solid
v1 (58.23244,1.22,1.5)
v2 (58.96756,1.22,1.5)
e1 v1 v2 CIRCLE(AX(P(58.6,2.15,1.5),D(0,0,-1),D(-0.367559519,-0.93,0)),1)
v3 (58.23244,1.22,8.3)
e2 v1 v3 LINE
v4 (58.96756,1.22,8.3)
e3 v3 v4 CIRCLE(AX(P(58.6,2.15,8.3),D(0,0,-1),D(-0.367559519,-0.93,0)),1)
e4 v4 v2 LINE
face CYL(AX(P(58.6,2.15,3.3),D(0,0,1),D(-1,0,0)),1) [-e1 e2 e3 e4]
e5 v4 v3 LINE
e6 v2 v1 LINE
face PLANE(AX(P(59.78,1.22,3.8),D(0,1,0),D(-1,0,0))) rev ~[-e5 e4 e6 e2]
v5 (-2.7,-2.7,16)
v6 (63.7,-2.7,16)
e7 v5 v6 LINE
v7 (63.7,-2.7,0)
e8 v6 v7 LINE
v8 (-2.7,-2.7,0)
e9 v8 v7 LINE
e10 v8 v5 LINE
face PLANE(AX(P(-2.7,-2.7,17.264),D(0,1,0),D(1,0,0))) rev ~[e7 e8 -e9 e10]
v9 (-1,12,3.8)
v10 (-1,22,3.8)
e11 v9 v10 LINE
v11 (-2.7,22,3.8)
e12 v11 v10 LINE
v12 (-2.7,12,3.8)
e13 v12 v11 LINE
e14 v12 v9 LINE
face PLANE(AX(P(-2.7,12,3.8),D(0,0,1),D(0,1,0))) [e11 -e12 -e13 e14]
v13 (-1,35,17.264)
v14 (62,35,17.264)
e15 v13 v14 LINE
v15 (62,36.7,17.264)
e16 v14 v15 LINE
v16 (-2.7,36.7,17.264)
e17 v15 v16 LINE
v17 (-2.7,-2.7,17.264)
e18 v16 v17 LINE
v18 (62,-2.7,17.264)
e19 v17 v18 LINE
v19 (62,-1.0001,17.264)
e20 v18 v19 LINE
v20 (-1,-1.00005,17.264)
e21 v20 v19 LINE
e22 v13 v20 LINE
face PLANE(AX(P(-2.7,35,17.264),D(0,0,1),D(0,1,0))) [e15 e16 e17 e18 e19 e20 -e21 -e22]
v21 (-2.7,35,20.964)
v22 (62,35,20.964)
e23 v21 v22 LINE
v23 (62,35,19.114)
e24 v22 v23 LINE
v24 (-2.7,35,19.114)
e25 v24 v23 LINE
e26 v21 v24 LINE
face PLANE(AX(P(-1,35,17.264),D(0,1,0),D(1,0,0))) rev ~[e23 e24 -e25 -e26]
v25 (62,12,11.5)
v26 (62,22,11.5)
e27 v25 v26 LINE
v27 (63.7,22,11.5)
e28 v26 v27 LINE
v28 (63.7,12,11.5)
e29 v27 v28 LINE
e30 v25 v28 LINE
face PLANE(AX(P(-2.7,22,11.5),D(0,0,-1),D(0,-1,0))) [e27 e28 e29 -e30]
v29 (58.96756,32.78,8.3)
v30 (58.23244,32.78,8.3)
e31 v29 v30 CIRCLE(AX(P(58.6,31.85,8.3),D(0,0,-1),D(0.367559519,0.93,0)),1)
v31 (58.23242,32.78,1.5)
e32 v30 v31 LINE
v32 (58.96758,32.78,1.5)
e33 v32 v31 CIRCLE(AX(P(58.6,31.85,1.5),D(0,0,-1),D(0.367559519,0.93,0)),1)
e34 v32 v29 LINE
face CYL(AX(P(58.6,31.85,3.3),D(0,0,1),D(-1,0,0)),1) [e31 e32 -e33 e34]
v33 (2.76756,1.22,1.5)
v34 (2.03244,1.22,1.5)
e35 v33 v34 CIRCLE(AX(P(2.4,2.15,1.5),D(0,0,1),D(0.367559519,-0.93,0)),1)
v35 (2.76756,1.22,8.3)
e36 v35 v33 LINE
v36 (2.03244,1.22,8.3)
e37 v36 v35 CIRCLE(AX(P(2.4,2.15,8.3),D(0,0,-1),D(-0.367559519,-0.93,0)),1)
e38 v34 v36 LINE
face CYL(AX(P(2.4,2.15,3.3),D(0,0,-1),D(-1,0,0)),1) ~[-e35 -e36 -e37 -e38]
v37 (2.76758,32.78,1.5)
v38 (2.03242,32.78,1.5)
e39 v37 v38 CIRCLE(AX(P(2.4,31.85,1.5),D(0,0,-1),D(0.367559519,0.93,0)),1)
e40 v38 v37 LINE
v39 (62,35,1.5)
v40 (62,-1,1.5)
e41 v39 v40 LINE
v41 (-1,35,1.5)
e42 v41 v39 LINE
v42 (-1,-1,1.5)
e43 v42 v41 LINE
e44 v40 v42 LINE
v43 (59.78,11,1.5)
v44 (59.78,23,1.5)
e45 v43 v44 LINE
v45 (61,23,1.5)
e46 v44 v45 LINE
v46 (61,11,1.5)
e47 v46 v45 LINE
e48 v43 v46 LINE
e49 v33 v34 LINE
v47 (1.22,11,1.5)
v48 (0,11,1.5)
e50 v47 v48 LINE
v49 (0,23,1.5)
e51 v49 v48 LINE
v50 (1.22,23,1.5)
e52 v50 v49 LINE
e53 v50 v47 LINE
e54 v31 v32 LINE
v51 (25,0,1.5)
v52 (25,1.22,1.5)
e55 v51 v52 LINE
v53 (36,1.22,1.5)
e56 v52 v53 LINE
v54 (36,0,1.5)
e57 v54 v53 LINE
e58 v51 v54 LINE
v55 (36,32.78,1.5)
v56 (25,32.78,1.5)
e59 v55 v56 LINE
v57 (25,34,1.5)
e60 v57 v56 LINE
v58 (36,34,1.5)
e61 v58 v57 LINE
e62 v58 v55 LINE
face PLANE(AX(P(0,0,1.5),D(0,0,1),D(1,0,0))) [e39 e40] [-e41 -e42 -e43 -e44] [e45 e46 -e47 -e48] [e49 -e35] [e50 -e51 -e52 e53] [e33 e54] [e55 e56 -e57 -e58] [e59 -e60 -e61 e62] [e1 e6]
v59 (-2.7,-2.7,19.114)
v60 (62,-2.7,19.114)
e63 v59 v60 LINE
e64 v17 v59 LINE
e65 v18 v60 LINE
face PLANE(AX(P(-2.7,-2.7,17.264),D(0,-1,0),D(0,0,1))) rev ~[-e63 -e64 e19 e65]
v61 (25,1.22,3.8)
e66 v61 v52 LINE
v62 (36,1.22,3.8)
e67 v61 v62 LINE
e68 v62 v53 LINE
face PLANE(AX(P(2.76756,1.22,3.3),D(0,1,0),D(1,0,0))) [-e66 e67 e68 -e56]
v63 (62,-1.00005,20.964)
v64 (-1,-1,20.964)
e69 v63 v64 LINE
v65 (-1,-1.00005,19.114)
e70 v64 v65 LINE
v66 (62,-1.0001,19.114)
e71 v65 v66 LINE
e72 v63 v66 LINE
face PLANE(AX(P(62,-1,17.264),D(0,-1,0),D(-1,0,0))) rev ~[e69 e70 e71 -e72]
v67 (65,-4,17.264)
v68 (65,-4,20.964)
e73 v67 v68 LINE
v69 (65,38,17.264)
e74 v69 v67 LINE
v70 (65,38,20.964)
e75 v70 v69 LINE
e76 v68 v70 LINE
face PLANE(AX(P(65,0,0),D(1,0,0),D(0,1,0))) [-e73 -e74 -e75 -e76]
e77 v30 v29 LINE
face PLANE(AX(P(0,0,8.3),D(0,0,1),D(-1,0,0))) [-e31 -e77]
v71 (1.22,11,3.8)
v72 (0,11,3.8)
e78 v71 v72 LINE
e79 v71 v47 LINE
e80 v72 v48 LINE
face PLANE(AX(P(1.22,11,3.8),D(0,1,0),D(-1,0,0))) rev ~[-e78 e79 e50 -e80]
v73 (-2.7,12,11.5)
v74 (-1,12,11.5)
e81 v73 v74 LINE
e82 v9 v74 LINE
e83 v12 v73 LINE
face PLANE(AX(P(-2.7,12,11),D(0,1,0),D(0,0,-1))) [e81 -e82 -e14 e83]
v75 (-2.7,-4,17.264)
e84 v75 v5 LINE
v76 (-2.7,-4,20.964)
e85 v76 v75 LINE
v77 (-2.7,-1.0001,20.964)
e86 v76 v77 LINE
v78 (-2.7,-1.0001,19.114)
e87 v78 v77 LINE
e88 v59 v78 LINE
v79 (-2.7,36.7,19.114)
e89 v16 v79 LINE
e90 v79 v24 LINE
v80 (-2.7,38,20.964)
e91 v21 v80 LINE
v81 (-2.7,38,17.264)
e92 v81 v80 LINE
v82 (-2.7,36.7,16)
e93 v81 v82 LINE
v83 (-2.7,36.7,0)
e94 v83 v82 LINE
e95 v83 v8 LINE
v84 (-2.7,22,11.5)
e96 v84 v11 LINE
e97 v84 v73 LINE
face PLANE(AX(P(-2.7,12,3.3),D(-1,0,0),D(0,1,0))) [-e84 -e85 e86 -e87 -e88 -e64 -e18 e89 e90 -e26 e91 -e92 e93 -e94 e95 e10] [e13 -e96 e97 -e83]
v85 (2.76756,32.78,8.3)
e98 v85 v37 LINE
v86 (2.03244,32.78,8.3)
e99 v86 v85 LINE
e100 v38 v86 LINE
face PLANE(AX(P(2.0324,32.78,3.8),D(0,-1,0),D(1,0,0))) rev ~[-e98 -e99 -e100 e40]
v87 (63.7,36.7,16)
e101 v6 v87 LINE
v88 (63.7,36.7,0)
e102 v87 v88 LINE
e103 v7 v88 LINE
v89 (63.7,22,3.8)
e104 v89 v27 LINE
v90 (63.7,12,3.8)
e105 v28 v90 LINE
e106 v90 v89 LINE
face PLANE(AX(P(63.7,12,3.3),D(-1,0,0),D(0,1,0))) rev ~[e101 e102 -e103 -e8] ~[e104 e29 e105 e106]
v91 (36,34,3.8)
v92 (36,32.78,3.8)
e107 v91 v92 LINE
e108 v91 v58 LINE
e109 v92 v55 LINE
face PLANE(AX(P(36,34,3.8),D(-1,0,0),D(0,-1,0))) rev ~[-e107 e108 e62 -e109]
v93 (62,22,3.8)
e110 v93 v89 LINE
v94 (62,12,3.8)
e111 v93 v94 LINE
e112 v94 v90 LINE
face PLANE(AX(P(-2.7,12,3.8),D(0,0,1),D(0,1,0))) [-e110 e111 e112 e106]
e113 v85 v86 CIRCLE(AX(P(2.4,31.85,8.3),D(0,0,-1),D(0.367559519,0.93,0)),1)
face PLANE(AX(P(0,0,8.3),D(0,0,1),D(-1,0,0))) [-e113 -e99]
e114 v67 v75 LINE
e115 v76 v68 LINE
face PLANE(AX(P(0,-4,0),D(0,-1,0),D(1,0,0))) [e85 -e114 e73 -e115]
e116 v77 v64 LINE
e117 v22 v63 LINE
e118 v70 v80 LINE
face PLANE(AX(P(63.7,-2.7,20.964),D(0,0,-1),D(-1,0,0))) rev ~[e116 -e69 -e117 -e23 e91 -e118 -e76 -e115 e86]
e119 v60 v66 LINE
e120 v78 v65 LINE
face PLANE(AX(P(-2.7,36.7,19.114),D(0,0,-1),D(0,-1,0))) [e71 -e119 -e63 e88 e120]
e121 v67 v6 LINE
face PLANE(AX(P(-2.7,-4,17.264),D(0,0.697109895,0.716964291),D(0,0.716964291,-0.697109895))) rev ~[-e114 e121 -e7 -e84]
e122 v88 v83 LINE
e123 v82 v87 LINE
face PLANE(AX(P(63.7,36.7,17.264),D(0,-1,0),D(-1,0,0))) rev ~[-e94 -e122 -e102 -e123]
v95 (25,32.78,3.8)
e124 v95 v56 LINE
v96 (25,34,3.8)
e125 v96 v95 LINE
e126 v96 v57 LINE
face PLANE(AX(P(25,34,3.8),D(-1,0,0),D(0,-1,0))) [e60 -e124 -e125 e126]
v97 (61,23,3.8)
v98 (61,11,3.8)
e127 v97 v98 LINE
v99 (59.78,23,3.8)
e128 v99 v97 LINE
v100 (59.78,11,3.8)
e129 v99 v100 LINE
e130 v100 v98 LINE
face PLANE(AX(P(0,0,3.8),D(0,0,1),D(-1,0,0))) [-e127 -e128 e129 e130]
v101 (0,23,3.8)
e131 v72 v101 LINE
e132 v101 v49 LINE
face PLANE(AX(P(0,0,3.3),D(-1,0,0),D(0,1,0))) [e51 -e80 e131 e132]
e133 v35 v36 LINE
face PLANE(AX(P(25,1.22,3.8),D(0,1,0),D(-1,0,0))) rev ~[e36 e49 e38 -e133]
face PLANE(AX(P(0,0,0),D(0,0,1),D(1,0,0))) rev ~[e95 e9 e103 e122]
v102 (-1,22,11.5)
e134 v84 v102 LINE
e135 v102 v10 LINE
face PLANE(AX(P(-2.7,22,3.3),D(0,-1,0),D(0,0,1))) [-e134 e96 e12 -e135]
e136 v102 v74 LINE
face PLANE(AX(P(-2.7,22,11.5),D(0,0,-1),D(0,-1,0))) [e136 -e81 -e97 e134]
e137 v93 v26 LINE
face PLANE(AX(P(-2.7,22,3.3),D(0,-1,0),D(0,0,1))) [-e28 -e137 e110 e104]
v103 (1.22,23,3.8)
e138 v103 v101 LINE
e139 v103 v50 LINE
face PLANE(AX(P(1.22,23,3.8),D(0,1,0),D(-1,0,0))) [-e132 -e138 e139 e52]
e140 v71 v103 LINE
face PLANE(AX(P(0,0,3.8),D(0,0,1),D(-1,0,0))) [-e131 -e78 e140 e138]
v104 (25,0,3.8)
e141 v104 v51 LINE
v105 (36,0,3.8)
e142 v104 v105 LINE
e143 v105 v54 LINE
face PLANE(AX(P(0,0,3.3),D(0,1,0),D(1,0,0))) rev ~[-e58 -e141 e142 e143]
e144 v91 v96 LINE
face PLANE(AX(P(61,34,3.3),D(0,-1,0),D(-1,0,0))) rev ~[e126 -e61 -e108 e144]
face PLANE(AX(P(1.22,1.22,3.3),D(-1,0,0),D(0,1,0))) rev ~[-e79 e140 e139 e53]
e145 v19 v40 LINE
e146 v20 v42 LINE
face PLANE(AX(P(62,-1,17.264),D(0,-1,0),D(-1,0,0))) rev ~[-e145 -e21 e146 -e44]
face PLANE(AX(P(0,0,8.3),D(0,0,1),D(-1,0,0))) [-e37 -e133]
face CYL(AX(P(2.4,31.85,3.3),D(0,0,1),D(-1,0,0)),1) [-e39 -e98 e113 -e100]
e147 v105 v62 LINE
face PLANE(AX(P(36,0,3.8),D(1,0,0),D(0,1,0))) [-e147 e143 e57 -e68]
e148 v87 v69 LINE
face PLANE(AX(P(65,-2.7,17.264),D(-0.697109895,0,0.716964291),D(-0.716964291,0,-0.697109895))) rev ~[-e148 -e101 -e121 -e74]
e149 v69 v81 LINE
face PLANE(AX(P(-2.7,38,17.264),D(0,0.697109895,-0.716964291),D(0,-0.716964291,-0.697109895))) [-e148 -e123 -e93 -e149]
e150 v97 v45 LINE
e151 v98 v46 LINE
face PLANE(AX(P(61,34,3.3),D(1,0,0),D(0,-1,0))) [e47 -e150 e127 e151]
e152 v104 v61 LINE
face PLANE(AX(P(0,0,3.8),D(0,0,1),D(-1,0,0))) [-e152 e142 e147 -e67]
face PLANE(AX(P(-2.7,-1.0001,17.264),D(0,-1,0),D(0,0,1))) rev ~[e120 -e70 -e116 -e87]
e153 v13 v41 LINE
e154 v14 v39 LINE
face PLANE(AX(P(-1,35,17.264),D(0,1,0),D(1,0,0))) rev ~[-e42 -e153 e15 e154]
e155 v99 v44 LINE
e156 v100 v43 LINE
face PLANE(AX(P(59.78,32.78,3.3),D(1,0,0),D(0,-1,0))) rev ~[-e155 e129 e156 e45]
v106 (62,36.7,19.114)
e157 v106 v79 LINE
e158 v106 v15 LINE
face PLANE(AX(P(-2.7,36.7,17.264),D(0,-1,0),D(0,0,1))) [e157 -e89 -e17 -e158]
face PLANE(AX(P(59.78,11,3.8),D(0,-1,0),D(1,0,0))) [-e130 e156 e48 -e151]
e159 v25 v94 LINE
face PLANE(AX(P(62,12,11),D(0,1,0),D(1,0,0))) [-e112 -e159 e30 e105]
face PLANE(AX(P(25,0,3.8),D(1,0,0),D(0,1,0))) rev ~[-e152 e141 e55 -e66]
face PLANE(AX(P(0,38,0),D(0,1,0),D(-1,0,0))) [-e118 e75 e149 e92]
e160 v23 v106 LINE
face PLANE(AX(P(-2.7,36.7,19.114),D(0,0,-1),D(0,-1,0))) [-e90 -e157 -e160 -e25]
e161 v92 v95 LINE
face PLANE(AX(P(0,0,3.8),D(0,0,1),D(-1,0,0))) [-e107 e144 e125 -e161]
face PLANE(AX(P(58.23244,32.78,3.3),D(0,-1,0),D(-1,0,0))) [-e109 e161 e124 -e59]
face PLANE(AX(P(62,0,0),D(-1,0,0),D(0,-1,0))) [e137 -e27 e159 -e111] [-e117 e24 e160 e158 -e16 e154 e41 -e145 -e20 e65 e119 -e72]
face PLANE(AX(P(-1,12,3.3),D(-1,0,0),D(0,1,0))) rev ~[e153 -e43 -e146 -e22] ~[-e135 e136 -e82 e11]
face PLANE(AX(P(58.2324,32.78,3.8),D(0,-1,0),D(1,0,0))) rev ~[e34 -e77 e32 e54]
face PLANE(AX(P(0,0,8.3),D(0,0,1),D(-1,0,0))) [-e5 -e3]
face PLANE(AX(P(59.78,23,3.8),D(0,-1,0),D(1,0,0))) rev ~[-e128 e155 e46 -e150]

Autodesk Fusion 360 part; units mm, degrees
sketch "Spodek" plane through (0, 0, 0) normal (0, 0, 1) x (1, 0, 0)
  line L0 (0, 0) -> (61, 0)
  line L1 (61, 0) -> (61, 34)
  line L2 (61, 34) -> (0, 34)
  line L3 (0, 34) -> (0, 0)
  line L4 (-1, 35) -> (62, 35)
  line L5 (62, 35) -> (62, -1)
  line L6 (62, -1) -> (-1, -1)
  line L7 (-1, -1) -> (-1, 35)
  line L8 (-2.7, -2.7) -> (-2.7, 36.7) construction
  line L9 (63.7, 36.7) -> (-2.7, 36.7) construction
  line L10 (63.7, -2.7) -> (63.7, 36.7) construction
  line L11 (63.7, -2.7) -> (-2.7, -2.7) construction
  line L12 (-2.7, -2.7) -> (63.7, -2.7)
  line L13 (63.7, -2.7) -> (63.7, 36.7)
  line L14 (63.7, 36.7) -> (-2.7, 36.7)
  line L15 (-2.7, 36.7) -> (-2.7, -2.7)
  dimension "d1" = 61
  dimension "d2" = 34
  dimension "d3" = 63
  dimension "d4" = 36
  dimension "d5" = 1.7
  dimension "d6" = 1.7
  dimension "d7" = 1.7
  dimension "d8" = 1.7
sketch "TotoNevim" plane through (0, 0, 0) normal (0, 0, 1) x (1, 0, 0)
extrude "Extrude1" add sketch "Spodek" along normal blind 12 contours L12 L13 L14 L15 makes body 1
extrude "Extrude2" add sketch "Spodek" along normal blind 1.5 contours L0 L1 L2 L3 | L4 L5 L6 L7 bodies 1
sketch "Sketch3" plane through (0, 0, 1.5) normal (0, 0, 1) x (-1, 0, 0)
  line L0 (1, 1) -> (-62, 1)
  line L1 (-62, 1) -> (-62, -35)
  line L2 (-62, -35) -> (1, -35)
  line L3 (1, -35) -> (1, 1)
  line L4 (-59.78, -32.78) -> (-1.22, -32.78)
  line L5 (-1.22, -32.78) -> (-1.22, -1.22)
  line L6 (-1.22, -1.22) -> (-59.78, -1.22)
  line L7 (-59.78, -1.22) -> (-59.78, -32.78)
  line L8 (-61, 0) -> (-61, -34)
  line L9 (0, 0) -> (-61, 0)
  line L10 (0, -34) -> (0, 0)
  line L11 (-61, -34) -> (0, -34)
  dimension "d13" = 1.22
  dimension "d14" = 1.22
  dimension "d15" = 1.22
  dimension "d16" = 1.22
extrude "Extrude3" add sketch "Sketch3" along normal blind 1.8 contours L8 L9 L10 L11 bodies 1
extrude "Extrude4" add 1 faces at (20, -2.1333, 12) along direction (0, 0, 1) blind 5.243 on bodies 1 bodies 1
extrude "Extrude5" add 1 faces at (20, -2.1333, 17.243) along direction (0, 0, 1) blind 0.021 on bodies 1 bodies 1
sketch "Prurez1" plane through (-2.7, 0, 0) normal (-1, 0, 0) x (0, -1, 0)
  line L0 (-36.7, 0) -> (2.7, 0)
  line L1 (2.7, 0) -> (2.7, 17.264)
  line L2 (2.7, 17.264) -> (-36.7, 17.264)
  line L3 (-36.7, 17.264) -> (-36.7, 0)
  line L4 (-12, 3.3) -> (-12, 11) construction
  line L5 (0, 1.5) -> (0, 3.3) construction
  line L6 (-22, 11) -> (-22, 3.3) construction
  line L7 (-34, 3.3) -> (-34, 11) construction
  line L8 (-35, 1.5) -> (-35, 17.264) construction
  line L9 (-22, 11) -> (-12, 11) construction
  line L10 (-12, 11) -> (-12, 3.3) construction
  line L11 (-12, 3.3) -> (-22, 3.3) construction
  line L12 (-22, 3.3) -> (-22, 11) construction
  line L13 (-22, 11) -> (-12, 11)
  line L14 (-12, 11) -> (-12, 3.3)
  line L15 (-12, 3.3) -> (-22, 3.3)
  line L16 (-22, 3.3) -> (-22, 11)
  dimension "d23" = 7.7
  dimension "d24" = 12
  dimension "d25" = 12
  dimension "d26" = 1
extrude "Extrude6" cut sketch "Prurez1" against normal up to surface (66.4 mm away) contours L13 L14 L15 L16 bodies 1
sketch "Sketch5" plane through (0, 0, 17.264) normal (0, 0, 1) x (-1, 0, 0)
  line L0 (-62, 1) -> (1, 1)
  line L1 (1, 1) -> (1, -35)
  line L2 (1, -35) -> (-62, -35)
  line L3 (-62, -35) -> (-62, 1)
  line L4 (2.7, -36.7) -> (2.7, 2.7)
  line L5 (2.7, 2.7) -> (-63.7, 2.7)
  line L6 (-63.7, 2.7) -> (-63.7, -36.7)
  line L7 (-63.7, -36.7) -> (2.7, -36.7)
  line L8 (2.7, -36.7) -> (-63.7, -36.7)
  line L9 (-63.7, -36.7) -> (-63.7, 2.7)
  line L10 (-63.7, 2.7) -> (2.7, 2.7)
  line L11 (2.7, 2.7) -> (2.7, -36.7)
  line L12 (1, -35) -> (-62, -35)
  line L13 (-62, -35) -> (-62, 1)
  line L14 (-62, 1) -> (1, 1)
  line L15 (1, 1) -> (1, -35)
extrude "Extrude7" add sketch "Sketch5" along normal blind 3.7 bodies 1
sketch "Sketch6" plane through (-2.7, 0, 0) normal (-1, 0, 0) x (0, -1, 0)
  line L0 (-22, 3.3) -> (-22, 11)
  line L1 (-22, 11) -> (-12, 11)
  line L2 (-12, 11) -> (-12, 3.3)
  line L3 (-12, 3.3) -> (-22, 3.3)
  line L4 (-36.7, 0) -> (2.7, 0)
  line L5 (2.7, 0) -> (2.7, 20.964)
  line L6 (2.7, 20.964) -> (-36.7, 20.964)
  line L7 (-36.7, 20.964) -> (-36.7, 0)
  line L8 (-35, 17.264) -> (1.0001, 17.264)
  line L9 (1.0001, 17.264) -> (1.0001, 20.964)
  line L10 (1.0001, 20.964) -> (-35, 20.964)
  line L11 (-35, 20.964) -> (-35, 17.264)
  line L12 (-36.7, 17.264) -> (2.7, 17.264)
extrude "Extrude8" cut sketch "Sketch6" against normal up to surface (64.7 mm away) contours L6 L8 L9 L10 L11 L12 bodies 1
sketch "BokFront" plane through (0, -2.7, 0) normal (0, -1, 0) x (1, 0, 0)
  line L0 (-2.7, 0) -> (63.7, 0)
  line L1 (63.7, 0) -> (63.7, 20.964)
  line L2 (63.7, 20.964) -> (-2.7, 20.964)
  line L3 (-2.7, 20.964) -> (-2.7, 0)
  line L4 (-2.7, 20.964) -> (63.7, 20.964)
  line L5 (63.7, 20.964) -> (63.7, 17.264)
  line L6 (63.7, 17.264) -> (-2.7, 17.264)
  line L7 (-2.7, 17.264) -> (-2.7, 20.964)
  point P0 (63.7, 17.264)
sketch "BokRight" plane through (63.7, 0, 0) normal (1, 0, 0) x (0, 1, 0)
  line L0 (22, 11) -> (22, 3.3)
  line L1 (22, 3.3) -> (12, 3.3)
  line L2 (12, 3.3) -> (12, 11)
  line L3 (12, 11) -> (22, 11)
  line L4 (-2.7, 0) -> (36.7, 0)
  line L5 (36.7, 0) -> (36.7, 20.964)
  line L6 (36.7, 20.964) -> (-2.7, 20.964)
  line L7 (-2.7, 20.964) -> (-2.7, 0)
  line L8 (-2.7, 20.964) -> (36.7, 20.964)
  line L9 (36.7, 20.964) -> (36.7, 17.264)
  line L10 (36.7, 17.264) -> (-2.7, 17.264)
  line L11 (-2.7, 17.264) -> (-2.7, 20.964)
  point P0 (36.7, 17.264)
sketch "BokBack" plane through (0, 36.7, 0) normal (0, 1, 0) x (-1, 0, 0)
  line L0 (-63.7, 0) -> (2.7, 0)
  line L1 (2.7, 0) -> (2.7, 20.964)
  line L2 (2.7, 20.964) -> (-63.7, 20.964)
  line L3 (-63.7, 20.964) -> (-63.7, 0)
  line L4 (-63.7, 20.964) -> (2.7, 20.964)
  line L5 (2.7, 20.964) -> (2.7, 17.264)
  line L6 (2.7, 17.264) -> (-63.7, 17.264)
  line L7 (-63.7, 17.264) -> (-63.7, 20.964)
  point P0 (2.7, 17.264)
extrude "Extrude9" add sketch "BokBack" along normal blind 1.3 contours L1 L2 L3 L4 L5 L6 L7 bodies 1
extrude "Extrude10" add sketch "BokFront" along normal blind 1.3 contours L1 L2 L3 L4 L5 L6 L7 bodies 1
extrude "Extrude11" add sketch "BokRight" along normal blind 1.3 contours L5 L6 L7 L8 L9 L10 L11 bodies 1
extrude "Extrude12" add 1 faces at (63.7, 37.5667, 19.7307) along direction (1, 0, 0) blind 1.3 on bodies 1 bodies 1
extrude "Extrude13" add 1 faces at (63.7, -3.1333, 19.7307) along direction (1, 0, 0) blind 1.3 on bodies 1 bodies 1
sketch "Sketch10" plane through (-2.7, 0, 0) normal (-1, 0, 0) x (0, -1, 0)
  line L0 (-35, 17.264) -> (-35, 20.964)
  line L1 (-35, 20.964) -> (-38, 20.964)
  line L2 (-38, 20.964) -> (-38, 17.264)
  line L3 (-38, 17.264) -> (-36.7, 17.264)
  line L4 (-36.7, 17.264) -> (-36.7, 0)
  line L5 (-36.7, 0) -> (2.7, 0)
  line L6 (2.7, 0) -> (2.7, 17.264)
  line L7 (2.7, 17.264) -> (4, 17.264)
  line L8 (4, 17.264) -> (4, 20.964)
  line L9 (4, 20.964) -> (1.0001, 20.964)
  line L10 (1.0001, 20.964) -> (1.0001, 17.264)
  line L11 (1.0001, 17.264) -> (-35, 17.264)
  line L12 (-22, 3.3) -> (-22, 11)
  line L13 (-22, 11) -> (-12, 11)
  line L14 (-12, 11) -> (-12, 3.3)
  line L15 (-12, 3.3) -> (-22, 3.3)
  line L16 (4, 17.264) -> (2.7, 16)
  line L17 (-38, 17.264) -> (-36.7, 16)
extrude "Extrude14" add sketch "Sketch10" against normal up to surface (67.7 mm away) contours L3 L4 L17 | L6 L7 L16 bodies 1
sketch "Sketch11" plane through (0, -2.7, 0) normal (0, 1, 0) x (-1, 0, 0)
  line L0 (-63.7, 16) -> (-63.7, 17.264)
  line L1 (-63.7, 17.264) -> (-65, 17.264)
  line L2 (-65, 17.264) -> (-65, 16)
  line L3 (-65, 16) -> (-63.7, 16)
  line L4 (-65, 17.264) -> (-63.7, 16)
extrude "Extrude15" add sketch "Sketch11" along normal blind 39.4 contours L0 L1 L4 bodies 1
extrude "Extrude16" cut 1 faces at (64.5667, -2.7, 16.4213) along direction (0, -1, 0) blind 5.3 on bodies 1 bodies 1
extrude "Extrude17" cut 1 faces at (64.5667, 36.7, 16.4213) along direction (0, 1, 0) blind 1.9 on bodies 1 bodies 1
sketch "Sketch12" plane through (-2.7, 35.85, 19.114) normal (-1, 0, 0) x (0, -1, 0)
  line L0 (-0.85, 0) -> (0.85, 0)
  line L1 (0.85, 0) -> (0.85, -1.85)
  line L2 (0.85, -1.85) -> (-0.85, -1.85)
  line L3 (-0.85, -1.85) -> (-0.85, 0)
  line L4 (-0.85, 1.85) -> (-0.85, -19.114)
  line L5 (36.8501, -1.85) -> (38.55, -1.85)
  line L6 (38.55, -1.85) -> (38.55, 0)
  line L7 (38.55, 0) -> (36.8501, 0)
  line L8 (36.8501, 0) -> (36.8501, -1.85)
  line L9 (38.55, -19.114) -> (38.55, 1.85)
  point P0 (0.85, -1.85)
  point P1 (36.8501, -1.85)
extrude "Extrude18" cut sketch "Sketch12" against normal blind 64.7 bodies 1
sketch "Sketch13" plane through (62, 0, 0) normal (-1, 0, 0) x (0, -1, 0)
  line L0 (-35, 17.264) -> (-35, 1.5)
  line L1 (-35, 1.5) -> (1, 1.5)
  line L2 (1, 1.5) -> (1, 17.264)
  line L3 (1.0001, 17.264) -> (2.7, 17.264)
  line L4 (2.7, 17.264) -> (2.7, 19.114)
  line L5 (2.7, 19.114) -> (1.0001, 19.114)
  line L6 (1, 19.114) -> (1, 20.964)
  line L7 (1, 20.964) -> (-35, 20.964)
  line L8 (-35, 20.964) -> (-35, 19.114)
  line L9 (-35, 19.114) -> (-36.7, 19.114)
  line L10 (-36.7, 19.114) -> (-36.7, 17.264)
  line L11 (-36.7, 17.264) -> (-35, 17.264)
  line L12 (-22, 3.3) -> (-22, 11)
  line L13 (-22, 11) -> (-12, 11)
  line L14 (-12, 11) -> (-12, 3.3)
  line L15 (-12, 3.3) -> (-22, 3.3)
  line L16 (-36.7, 19.114) -> (2.7, 19.114)
  line L17 (2.7, 19.114) -> (2.7, 17.264)
  line L18 (2.7, 17.264) -> (-36.7, 17.264)
  line L19 (-36.7, 17.264) -> (-36.7, 19.114)
extrude "Extrude19" cut sketch "Sketch13" against normal blind 1.7 contours L3 L4 L5 L9 L10 L11 L16 L17 L18 L19 bodies 1
sketch "Sketch14" plane through (0, 0, 3.3) normal (0, 0, 1) x (-1, 0, 0)
  line L0 (0, -34) -> (0, 0)
  line L1 (0, 0) -> (-61, 0)
  line L2 (-61, 0) -> (-61, -34)
  line L3 (-61, -34) -> (0, -34)
  line L4 (-1.22, -1.22) -> (-1.22, -32.78)
  line L5 (-1.22, -32.78) -> (-59.78, -32.78)
  line L6 (-59.78, -32.78) -> (-59.78, -1.22)
  line L7 (-59.78, -1.22) -> (-1.22, -1.22)
  circle A0 centre (-58.6, -31.85) radius 1
  line L8 (-61, -17) -> (0, -17) construction
  circle A1 centre (-58.6, -2.15) radius 1
  line L9 (-30.5, -34) -> (-30.5, 0) construction
  circle A2 centre (-2.4, -31.85) radius 1
  circle A3 centre (-2.4, -2.15) radius 1
  point P0 (-58.6, -31.85)
  dimension "d55" = 2.15
  dimension "d56" = 2.4
  dimension "d57" = 2
extrude "Extrude20" add sketch "Sketch14" along normal blind 5 separate body contours L7 A3 | L5 A2 | L7 A1 | L5 A0 picked at (-2.6077, -1.9583) picked at (-2.278, -32.1598) picked at (-58.2997, -2.1959) picked at (-58.3551, -31.7867) makes body 2 at (59.2633, 32.5983, 6.6333) makes body 3 at (59.1416, 2.9907, 6.6333) makes body 4 at (3.0633, 32.5983, 6.6333) makes body 5 at (2.8103, 3.062, 6.6333)
extrude "Extrude21" add 4 faces at (2.6077, 1.9583, 3.3) (2.278, 32.1598, 3.3) (58.3551, 31.7867, 3.3) (58.2997, 2.1959, 3.3) along direction (0, 0, -1) blind 2 on bodies 2 3 4 5 bodies 5 1 2 3 4
extrude "Extrude22" add 1 faces at (39.7441, 0.4067, 3.3) along direction (0, 0, 1) blind 0.5 on bodies 5 bodies 5
sketch "Sketch15" plane through (0, 0, 3.8) normal (0, 0, 1) x (-1, 0, 0)
  line L0 (0, -34) -> (0, 0)
  line L1 (0, 0) -> (-61, 0)
  line L2 (-61, 0) -> (-61, -34)
  line L3 (-61, -34) -> (0, -34)
  line L4 (-1.22, -1.22) -> (-1.22, -32.78)
  line L5 (-1.22, -32.78) -> (-2.0324, -32.78)
  line L6 (-2.0324, -32.78) -> (-2.7676, -32.78)
  line L7 (-2.7676, -32.78) -> (-58.2324, -32.78)
  line L8 (-58.2324, -32.78) -> (-58.9676, -32.78)
  line L9 (-58.9676, -32.78) -> (-59.78, -32.78)
  line L10 (-59.78, -32.78) -> (-59.78, -1.22)
  line L11 (-59.78, -1.22) -> (-58.9676, -1.22)
  line L12 (-58.9676, -1.22) -> (-58.2324, -1.22)
  line L13 (-58.2324, -1.22) -> (-2.7676, -1.22)
  line L14 (-2.7676, -1.22) -> (-2.0324, -1.22)
  line L15 (-2.0324, -1.22) -> (-1.22, -1.22)
  line L16 (0, -34) -> (-1.22, -34)
  line L17 (-1.22, -34) -> (-1.22, -23)
  line L18 (-1.22, -23) -> (0, -23)
  line L19 (0, -23) -> (0, -34)
  line L20 (0, 0) -> (-1.22, 0)
  line L21 (-1.22, 0) -> (-1.22, -11)
  line L22 (-1.22, -11) -> (0, -11)
  line L23 (0, -11) -> (0, 0)
  line L24 (0, 0) -> (-25, 0)
  line L25 (-25, 0) -> (-25, -1.22)
  line L26 (-25, -1.22) -> (0, -1.22)
  line L27 (0, -1.22) -> (0, 0)
  line L28 (-61, 0) -> (-36, 0)
  line L29 (-36, 0) -> (-36, -1.22)
  line L30 (-36, -1.22) -> (-61, -1.22)
  line L31 (-61, -1.22) -> (-61, 0)
  line L32 (-61, 0) -> (-59.78, 0)
  line L33 (-59.78, 0) -> (-59.78, -11)
  line L34 (-59.78, -11) -> (-61, -11)
  line L35 (-61, -11) -> (-61, 0)
  line L36 (-61, -34) -> (-59.78, -34)
  line L37 (-59.78, -34) -> (-59.78, -23)
  line L38 (-59.78, -23) -> (-61, -23)
  line L39 (-61, -23) -> (-61, -34)
  line L40 (0, -34) -> (-25, -34)
  line L41 (-25, -34) -> (-25, -32.78)
  line L42 (-25, -32.78) -> (0, -32.78)
  line L43 (0, -32.78) -> (0, -34)
  line L44 (-61, -34) -> (-36, -34)
  line L45 (-36, -34) -> (-36, -32.78)
  line L46 (-36, -32.78) -> (-61, -32.78)
  line L47 (-61, -32.78) -> (-61, -34)
  dimension "d64" = 11
  dimension "d65" = 11
  dimension "d66" = 25
  dimension "d67" = 25
  dimension "d68" = 11
  dimension "d69" = 11
  dimension "d70" = 25
  dimension "d71" = 25
extrude "Extrude23" cut sketch "Sketch15" against normal blind 2.3 contours L0 L3 L16 L17 L19 L40 L42 L43 | L3 L5 L6 L7 L17 L40 L41 L42 bodies 5
extrude "Extrude24" cut sketch "Sketch15" against normal blind 2.3 contours L3 L7 L8 L9 L37 L44 L45 L46 | L2 L3 L36 L37 L39 L44 L46 L47 bodies 5
extrude "Extrude25" cut sketch "Sketch15" against normal blind 2.3 contours L2 L10 L37 L38 L39 L46 bodies 5
extrude "Extrude26" cut sketch "Sketch15" against normal blind 2.3 contours L0 L4 L21 L22 L23 L26 | L0 L1 L20 L21 L23 L24 L26 L27 | L1 L13 L14 L15 L21 L24 L25 L26 | L2 L10 L30 L33 L34 L35 | L1 L11 L12 L13 L28 L29 L30 L33 | L1 L2 L28 L30 L31 L32 L33 L35 bodies 5
extrude "Extrude27" cut sketch "Sketch15" against normal blind 2.3 contours L0 L4 L17 L18 L19 L42 bodies 5
extrude "Extrude28" cut 1 faces at (63.1333, 18.6667, 11) along direction (0, 0, 1) blind 0.5 on bodies 5 bodies 5
extrude "Extrude29" cut 1 faces at (-2.1333, 18.6667, 11) along direction (0, 0, 1) blind 0.5 on bodies 5 bodies 5
extrude "Extrude30" add 1 faces at (-2.1333, 15.3333, 3.3) along direction (0, 0, 1) blind 0.5 on bodies 5 bodies 5
extrude "Extrude31" add 1 faces at (63.1333, 15.3333, 3.3) along direction (0, 0, 1) blind 0.5 on bodies 5 bodies 5
extrude "Extrude32" add 1 faces at (63.7, 10.4333, 17.8807) along direction (-1, 0, 0) blind 1.7 on bodies 5 bodies 5
equation "d19 = 14 mm - 8.757 mm"
equation "d21 = 14 mm - 13.979 mm"
equation "d33 = 3 mm - 1.70 mm"
equation "d35 = 3 mm - 1.70 mm"
equation "d37 = 3 mm - 1.70 mm"
